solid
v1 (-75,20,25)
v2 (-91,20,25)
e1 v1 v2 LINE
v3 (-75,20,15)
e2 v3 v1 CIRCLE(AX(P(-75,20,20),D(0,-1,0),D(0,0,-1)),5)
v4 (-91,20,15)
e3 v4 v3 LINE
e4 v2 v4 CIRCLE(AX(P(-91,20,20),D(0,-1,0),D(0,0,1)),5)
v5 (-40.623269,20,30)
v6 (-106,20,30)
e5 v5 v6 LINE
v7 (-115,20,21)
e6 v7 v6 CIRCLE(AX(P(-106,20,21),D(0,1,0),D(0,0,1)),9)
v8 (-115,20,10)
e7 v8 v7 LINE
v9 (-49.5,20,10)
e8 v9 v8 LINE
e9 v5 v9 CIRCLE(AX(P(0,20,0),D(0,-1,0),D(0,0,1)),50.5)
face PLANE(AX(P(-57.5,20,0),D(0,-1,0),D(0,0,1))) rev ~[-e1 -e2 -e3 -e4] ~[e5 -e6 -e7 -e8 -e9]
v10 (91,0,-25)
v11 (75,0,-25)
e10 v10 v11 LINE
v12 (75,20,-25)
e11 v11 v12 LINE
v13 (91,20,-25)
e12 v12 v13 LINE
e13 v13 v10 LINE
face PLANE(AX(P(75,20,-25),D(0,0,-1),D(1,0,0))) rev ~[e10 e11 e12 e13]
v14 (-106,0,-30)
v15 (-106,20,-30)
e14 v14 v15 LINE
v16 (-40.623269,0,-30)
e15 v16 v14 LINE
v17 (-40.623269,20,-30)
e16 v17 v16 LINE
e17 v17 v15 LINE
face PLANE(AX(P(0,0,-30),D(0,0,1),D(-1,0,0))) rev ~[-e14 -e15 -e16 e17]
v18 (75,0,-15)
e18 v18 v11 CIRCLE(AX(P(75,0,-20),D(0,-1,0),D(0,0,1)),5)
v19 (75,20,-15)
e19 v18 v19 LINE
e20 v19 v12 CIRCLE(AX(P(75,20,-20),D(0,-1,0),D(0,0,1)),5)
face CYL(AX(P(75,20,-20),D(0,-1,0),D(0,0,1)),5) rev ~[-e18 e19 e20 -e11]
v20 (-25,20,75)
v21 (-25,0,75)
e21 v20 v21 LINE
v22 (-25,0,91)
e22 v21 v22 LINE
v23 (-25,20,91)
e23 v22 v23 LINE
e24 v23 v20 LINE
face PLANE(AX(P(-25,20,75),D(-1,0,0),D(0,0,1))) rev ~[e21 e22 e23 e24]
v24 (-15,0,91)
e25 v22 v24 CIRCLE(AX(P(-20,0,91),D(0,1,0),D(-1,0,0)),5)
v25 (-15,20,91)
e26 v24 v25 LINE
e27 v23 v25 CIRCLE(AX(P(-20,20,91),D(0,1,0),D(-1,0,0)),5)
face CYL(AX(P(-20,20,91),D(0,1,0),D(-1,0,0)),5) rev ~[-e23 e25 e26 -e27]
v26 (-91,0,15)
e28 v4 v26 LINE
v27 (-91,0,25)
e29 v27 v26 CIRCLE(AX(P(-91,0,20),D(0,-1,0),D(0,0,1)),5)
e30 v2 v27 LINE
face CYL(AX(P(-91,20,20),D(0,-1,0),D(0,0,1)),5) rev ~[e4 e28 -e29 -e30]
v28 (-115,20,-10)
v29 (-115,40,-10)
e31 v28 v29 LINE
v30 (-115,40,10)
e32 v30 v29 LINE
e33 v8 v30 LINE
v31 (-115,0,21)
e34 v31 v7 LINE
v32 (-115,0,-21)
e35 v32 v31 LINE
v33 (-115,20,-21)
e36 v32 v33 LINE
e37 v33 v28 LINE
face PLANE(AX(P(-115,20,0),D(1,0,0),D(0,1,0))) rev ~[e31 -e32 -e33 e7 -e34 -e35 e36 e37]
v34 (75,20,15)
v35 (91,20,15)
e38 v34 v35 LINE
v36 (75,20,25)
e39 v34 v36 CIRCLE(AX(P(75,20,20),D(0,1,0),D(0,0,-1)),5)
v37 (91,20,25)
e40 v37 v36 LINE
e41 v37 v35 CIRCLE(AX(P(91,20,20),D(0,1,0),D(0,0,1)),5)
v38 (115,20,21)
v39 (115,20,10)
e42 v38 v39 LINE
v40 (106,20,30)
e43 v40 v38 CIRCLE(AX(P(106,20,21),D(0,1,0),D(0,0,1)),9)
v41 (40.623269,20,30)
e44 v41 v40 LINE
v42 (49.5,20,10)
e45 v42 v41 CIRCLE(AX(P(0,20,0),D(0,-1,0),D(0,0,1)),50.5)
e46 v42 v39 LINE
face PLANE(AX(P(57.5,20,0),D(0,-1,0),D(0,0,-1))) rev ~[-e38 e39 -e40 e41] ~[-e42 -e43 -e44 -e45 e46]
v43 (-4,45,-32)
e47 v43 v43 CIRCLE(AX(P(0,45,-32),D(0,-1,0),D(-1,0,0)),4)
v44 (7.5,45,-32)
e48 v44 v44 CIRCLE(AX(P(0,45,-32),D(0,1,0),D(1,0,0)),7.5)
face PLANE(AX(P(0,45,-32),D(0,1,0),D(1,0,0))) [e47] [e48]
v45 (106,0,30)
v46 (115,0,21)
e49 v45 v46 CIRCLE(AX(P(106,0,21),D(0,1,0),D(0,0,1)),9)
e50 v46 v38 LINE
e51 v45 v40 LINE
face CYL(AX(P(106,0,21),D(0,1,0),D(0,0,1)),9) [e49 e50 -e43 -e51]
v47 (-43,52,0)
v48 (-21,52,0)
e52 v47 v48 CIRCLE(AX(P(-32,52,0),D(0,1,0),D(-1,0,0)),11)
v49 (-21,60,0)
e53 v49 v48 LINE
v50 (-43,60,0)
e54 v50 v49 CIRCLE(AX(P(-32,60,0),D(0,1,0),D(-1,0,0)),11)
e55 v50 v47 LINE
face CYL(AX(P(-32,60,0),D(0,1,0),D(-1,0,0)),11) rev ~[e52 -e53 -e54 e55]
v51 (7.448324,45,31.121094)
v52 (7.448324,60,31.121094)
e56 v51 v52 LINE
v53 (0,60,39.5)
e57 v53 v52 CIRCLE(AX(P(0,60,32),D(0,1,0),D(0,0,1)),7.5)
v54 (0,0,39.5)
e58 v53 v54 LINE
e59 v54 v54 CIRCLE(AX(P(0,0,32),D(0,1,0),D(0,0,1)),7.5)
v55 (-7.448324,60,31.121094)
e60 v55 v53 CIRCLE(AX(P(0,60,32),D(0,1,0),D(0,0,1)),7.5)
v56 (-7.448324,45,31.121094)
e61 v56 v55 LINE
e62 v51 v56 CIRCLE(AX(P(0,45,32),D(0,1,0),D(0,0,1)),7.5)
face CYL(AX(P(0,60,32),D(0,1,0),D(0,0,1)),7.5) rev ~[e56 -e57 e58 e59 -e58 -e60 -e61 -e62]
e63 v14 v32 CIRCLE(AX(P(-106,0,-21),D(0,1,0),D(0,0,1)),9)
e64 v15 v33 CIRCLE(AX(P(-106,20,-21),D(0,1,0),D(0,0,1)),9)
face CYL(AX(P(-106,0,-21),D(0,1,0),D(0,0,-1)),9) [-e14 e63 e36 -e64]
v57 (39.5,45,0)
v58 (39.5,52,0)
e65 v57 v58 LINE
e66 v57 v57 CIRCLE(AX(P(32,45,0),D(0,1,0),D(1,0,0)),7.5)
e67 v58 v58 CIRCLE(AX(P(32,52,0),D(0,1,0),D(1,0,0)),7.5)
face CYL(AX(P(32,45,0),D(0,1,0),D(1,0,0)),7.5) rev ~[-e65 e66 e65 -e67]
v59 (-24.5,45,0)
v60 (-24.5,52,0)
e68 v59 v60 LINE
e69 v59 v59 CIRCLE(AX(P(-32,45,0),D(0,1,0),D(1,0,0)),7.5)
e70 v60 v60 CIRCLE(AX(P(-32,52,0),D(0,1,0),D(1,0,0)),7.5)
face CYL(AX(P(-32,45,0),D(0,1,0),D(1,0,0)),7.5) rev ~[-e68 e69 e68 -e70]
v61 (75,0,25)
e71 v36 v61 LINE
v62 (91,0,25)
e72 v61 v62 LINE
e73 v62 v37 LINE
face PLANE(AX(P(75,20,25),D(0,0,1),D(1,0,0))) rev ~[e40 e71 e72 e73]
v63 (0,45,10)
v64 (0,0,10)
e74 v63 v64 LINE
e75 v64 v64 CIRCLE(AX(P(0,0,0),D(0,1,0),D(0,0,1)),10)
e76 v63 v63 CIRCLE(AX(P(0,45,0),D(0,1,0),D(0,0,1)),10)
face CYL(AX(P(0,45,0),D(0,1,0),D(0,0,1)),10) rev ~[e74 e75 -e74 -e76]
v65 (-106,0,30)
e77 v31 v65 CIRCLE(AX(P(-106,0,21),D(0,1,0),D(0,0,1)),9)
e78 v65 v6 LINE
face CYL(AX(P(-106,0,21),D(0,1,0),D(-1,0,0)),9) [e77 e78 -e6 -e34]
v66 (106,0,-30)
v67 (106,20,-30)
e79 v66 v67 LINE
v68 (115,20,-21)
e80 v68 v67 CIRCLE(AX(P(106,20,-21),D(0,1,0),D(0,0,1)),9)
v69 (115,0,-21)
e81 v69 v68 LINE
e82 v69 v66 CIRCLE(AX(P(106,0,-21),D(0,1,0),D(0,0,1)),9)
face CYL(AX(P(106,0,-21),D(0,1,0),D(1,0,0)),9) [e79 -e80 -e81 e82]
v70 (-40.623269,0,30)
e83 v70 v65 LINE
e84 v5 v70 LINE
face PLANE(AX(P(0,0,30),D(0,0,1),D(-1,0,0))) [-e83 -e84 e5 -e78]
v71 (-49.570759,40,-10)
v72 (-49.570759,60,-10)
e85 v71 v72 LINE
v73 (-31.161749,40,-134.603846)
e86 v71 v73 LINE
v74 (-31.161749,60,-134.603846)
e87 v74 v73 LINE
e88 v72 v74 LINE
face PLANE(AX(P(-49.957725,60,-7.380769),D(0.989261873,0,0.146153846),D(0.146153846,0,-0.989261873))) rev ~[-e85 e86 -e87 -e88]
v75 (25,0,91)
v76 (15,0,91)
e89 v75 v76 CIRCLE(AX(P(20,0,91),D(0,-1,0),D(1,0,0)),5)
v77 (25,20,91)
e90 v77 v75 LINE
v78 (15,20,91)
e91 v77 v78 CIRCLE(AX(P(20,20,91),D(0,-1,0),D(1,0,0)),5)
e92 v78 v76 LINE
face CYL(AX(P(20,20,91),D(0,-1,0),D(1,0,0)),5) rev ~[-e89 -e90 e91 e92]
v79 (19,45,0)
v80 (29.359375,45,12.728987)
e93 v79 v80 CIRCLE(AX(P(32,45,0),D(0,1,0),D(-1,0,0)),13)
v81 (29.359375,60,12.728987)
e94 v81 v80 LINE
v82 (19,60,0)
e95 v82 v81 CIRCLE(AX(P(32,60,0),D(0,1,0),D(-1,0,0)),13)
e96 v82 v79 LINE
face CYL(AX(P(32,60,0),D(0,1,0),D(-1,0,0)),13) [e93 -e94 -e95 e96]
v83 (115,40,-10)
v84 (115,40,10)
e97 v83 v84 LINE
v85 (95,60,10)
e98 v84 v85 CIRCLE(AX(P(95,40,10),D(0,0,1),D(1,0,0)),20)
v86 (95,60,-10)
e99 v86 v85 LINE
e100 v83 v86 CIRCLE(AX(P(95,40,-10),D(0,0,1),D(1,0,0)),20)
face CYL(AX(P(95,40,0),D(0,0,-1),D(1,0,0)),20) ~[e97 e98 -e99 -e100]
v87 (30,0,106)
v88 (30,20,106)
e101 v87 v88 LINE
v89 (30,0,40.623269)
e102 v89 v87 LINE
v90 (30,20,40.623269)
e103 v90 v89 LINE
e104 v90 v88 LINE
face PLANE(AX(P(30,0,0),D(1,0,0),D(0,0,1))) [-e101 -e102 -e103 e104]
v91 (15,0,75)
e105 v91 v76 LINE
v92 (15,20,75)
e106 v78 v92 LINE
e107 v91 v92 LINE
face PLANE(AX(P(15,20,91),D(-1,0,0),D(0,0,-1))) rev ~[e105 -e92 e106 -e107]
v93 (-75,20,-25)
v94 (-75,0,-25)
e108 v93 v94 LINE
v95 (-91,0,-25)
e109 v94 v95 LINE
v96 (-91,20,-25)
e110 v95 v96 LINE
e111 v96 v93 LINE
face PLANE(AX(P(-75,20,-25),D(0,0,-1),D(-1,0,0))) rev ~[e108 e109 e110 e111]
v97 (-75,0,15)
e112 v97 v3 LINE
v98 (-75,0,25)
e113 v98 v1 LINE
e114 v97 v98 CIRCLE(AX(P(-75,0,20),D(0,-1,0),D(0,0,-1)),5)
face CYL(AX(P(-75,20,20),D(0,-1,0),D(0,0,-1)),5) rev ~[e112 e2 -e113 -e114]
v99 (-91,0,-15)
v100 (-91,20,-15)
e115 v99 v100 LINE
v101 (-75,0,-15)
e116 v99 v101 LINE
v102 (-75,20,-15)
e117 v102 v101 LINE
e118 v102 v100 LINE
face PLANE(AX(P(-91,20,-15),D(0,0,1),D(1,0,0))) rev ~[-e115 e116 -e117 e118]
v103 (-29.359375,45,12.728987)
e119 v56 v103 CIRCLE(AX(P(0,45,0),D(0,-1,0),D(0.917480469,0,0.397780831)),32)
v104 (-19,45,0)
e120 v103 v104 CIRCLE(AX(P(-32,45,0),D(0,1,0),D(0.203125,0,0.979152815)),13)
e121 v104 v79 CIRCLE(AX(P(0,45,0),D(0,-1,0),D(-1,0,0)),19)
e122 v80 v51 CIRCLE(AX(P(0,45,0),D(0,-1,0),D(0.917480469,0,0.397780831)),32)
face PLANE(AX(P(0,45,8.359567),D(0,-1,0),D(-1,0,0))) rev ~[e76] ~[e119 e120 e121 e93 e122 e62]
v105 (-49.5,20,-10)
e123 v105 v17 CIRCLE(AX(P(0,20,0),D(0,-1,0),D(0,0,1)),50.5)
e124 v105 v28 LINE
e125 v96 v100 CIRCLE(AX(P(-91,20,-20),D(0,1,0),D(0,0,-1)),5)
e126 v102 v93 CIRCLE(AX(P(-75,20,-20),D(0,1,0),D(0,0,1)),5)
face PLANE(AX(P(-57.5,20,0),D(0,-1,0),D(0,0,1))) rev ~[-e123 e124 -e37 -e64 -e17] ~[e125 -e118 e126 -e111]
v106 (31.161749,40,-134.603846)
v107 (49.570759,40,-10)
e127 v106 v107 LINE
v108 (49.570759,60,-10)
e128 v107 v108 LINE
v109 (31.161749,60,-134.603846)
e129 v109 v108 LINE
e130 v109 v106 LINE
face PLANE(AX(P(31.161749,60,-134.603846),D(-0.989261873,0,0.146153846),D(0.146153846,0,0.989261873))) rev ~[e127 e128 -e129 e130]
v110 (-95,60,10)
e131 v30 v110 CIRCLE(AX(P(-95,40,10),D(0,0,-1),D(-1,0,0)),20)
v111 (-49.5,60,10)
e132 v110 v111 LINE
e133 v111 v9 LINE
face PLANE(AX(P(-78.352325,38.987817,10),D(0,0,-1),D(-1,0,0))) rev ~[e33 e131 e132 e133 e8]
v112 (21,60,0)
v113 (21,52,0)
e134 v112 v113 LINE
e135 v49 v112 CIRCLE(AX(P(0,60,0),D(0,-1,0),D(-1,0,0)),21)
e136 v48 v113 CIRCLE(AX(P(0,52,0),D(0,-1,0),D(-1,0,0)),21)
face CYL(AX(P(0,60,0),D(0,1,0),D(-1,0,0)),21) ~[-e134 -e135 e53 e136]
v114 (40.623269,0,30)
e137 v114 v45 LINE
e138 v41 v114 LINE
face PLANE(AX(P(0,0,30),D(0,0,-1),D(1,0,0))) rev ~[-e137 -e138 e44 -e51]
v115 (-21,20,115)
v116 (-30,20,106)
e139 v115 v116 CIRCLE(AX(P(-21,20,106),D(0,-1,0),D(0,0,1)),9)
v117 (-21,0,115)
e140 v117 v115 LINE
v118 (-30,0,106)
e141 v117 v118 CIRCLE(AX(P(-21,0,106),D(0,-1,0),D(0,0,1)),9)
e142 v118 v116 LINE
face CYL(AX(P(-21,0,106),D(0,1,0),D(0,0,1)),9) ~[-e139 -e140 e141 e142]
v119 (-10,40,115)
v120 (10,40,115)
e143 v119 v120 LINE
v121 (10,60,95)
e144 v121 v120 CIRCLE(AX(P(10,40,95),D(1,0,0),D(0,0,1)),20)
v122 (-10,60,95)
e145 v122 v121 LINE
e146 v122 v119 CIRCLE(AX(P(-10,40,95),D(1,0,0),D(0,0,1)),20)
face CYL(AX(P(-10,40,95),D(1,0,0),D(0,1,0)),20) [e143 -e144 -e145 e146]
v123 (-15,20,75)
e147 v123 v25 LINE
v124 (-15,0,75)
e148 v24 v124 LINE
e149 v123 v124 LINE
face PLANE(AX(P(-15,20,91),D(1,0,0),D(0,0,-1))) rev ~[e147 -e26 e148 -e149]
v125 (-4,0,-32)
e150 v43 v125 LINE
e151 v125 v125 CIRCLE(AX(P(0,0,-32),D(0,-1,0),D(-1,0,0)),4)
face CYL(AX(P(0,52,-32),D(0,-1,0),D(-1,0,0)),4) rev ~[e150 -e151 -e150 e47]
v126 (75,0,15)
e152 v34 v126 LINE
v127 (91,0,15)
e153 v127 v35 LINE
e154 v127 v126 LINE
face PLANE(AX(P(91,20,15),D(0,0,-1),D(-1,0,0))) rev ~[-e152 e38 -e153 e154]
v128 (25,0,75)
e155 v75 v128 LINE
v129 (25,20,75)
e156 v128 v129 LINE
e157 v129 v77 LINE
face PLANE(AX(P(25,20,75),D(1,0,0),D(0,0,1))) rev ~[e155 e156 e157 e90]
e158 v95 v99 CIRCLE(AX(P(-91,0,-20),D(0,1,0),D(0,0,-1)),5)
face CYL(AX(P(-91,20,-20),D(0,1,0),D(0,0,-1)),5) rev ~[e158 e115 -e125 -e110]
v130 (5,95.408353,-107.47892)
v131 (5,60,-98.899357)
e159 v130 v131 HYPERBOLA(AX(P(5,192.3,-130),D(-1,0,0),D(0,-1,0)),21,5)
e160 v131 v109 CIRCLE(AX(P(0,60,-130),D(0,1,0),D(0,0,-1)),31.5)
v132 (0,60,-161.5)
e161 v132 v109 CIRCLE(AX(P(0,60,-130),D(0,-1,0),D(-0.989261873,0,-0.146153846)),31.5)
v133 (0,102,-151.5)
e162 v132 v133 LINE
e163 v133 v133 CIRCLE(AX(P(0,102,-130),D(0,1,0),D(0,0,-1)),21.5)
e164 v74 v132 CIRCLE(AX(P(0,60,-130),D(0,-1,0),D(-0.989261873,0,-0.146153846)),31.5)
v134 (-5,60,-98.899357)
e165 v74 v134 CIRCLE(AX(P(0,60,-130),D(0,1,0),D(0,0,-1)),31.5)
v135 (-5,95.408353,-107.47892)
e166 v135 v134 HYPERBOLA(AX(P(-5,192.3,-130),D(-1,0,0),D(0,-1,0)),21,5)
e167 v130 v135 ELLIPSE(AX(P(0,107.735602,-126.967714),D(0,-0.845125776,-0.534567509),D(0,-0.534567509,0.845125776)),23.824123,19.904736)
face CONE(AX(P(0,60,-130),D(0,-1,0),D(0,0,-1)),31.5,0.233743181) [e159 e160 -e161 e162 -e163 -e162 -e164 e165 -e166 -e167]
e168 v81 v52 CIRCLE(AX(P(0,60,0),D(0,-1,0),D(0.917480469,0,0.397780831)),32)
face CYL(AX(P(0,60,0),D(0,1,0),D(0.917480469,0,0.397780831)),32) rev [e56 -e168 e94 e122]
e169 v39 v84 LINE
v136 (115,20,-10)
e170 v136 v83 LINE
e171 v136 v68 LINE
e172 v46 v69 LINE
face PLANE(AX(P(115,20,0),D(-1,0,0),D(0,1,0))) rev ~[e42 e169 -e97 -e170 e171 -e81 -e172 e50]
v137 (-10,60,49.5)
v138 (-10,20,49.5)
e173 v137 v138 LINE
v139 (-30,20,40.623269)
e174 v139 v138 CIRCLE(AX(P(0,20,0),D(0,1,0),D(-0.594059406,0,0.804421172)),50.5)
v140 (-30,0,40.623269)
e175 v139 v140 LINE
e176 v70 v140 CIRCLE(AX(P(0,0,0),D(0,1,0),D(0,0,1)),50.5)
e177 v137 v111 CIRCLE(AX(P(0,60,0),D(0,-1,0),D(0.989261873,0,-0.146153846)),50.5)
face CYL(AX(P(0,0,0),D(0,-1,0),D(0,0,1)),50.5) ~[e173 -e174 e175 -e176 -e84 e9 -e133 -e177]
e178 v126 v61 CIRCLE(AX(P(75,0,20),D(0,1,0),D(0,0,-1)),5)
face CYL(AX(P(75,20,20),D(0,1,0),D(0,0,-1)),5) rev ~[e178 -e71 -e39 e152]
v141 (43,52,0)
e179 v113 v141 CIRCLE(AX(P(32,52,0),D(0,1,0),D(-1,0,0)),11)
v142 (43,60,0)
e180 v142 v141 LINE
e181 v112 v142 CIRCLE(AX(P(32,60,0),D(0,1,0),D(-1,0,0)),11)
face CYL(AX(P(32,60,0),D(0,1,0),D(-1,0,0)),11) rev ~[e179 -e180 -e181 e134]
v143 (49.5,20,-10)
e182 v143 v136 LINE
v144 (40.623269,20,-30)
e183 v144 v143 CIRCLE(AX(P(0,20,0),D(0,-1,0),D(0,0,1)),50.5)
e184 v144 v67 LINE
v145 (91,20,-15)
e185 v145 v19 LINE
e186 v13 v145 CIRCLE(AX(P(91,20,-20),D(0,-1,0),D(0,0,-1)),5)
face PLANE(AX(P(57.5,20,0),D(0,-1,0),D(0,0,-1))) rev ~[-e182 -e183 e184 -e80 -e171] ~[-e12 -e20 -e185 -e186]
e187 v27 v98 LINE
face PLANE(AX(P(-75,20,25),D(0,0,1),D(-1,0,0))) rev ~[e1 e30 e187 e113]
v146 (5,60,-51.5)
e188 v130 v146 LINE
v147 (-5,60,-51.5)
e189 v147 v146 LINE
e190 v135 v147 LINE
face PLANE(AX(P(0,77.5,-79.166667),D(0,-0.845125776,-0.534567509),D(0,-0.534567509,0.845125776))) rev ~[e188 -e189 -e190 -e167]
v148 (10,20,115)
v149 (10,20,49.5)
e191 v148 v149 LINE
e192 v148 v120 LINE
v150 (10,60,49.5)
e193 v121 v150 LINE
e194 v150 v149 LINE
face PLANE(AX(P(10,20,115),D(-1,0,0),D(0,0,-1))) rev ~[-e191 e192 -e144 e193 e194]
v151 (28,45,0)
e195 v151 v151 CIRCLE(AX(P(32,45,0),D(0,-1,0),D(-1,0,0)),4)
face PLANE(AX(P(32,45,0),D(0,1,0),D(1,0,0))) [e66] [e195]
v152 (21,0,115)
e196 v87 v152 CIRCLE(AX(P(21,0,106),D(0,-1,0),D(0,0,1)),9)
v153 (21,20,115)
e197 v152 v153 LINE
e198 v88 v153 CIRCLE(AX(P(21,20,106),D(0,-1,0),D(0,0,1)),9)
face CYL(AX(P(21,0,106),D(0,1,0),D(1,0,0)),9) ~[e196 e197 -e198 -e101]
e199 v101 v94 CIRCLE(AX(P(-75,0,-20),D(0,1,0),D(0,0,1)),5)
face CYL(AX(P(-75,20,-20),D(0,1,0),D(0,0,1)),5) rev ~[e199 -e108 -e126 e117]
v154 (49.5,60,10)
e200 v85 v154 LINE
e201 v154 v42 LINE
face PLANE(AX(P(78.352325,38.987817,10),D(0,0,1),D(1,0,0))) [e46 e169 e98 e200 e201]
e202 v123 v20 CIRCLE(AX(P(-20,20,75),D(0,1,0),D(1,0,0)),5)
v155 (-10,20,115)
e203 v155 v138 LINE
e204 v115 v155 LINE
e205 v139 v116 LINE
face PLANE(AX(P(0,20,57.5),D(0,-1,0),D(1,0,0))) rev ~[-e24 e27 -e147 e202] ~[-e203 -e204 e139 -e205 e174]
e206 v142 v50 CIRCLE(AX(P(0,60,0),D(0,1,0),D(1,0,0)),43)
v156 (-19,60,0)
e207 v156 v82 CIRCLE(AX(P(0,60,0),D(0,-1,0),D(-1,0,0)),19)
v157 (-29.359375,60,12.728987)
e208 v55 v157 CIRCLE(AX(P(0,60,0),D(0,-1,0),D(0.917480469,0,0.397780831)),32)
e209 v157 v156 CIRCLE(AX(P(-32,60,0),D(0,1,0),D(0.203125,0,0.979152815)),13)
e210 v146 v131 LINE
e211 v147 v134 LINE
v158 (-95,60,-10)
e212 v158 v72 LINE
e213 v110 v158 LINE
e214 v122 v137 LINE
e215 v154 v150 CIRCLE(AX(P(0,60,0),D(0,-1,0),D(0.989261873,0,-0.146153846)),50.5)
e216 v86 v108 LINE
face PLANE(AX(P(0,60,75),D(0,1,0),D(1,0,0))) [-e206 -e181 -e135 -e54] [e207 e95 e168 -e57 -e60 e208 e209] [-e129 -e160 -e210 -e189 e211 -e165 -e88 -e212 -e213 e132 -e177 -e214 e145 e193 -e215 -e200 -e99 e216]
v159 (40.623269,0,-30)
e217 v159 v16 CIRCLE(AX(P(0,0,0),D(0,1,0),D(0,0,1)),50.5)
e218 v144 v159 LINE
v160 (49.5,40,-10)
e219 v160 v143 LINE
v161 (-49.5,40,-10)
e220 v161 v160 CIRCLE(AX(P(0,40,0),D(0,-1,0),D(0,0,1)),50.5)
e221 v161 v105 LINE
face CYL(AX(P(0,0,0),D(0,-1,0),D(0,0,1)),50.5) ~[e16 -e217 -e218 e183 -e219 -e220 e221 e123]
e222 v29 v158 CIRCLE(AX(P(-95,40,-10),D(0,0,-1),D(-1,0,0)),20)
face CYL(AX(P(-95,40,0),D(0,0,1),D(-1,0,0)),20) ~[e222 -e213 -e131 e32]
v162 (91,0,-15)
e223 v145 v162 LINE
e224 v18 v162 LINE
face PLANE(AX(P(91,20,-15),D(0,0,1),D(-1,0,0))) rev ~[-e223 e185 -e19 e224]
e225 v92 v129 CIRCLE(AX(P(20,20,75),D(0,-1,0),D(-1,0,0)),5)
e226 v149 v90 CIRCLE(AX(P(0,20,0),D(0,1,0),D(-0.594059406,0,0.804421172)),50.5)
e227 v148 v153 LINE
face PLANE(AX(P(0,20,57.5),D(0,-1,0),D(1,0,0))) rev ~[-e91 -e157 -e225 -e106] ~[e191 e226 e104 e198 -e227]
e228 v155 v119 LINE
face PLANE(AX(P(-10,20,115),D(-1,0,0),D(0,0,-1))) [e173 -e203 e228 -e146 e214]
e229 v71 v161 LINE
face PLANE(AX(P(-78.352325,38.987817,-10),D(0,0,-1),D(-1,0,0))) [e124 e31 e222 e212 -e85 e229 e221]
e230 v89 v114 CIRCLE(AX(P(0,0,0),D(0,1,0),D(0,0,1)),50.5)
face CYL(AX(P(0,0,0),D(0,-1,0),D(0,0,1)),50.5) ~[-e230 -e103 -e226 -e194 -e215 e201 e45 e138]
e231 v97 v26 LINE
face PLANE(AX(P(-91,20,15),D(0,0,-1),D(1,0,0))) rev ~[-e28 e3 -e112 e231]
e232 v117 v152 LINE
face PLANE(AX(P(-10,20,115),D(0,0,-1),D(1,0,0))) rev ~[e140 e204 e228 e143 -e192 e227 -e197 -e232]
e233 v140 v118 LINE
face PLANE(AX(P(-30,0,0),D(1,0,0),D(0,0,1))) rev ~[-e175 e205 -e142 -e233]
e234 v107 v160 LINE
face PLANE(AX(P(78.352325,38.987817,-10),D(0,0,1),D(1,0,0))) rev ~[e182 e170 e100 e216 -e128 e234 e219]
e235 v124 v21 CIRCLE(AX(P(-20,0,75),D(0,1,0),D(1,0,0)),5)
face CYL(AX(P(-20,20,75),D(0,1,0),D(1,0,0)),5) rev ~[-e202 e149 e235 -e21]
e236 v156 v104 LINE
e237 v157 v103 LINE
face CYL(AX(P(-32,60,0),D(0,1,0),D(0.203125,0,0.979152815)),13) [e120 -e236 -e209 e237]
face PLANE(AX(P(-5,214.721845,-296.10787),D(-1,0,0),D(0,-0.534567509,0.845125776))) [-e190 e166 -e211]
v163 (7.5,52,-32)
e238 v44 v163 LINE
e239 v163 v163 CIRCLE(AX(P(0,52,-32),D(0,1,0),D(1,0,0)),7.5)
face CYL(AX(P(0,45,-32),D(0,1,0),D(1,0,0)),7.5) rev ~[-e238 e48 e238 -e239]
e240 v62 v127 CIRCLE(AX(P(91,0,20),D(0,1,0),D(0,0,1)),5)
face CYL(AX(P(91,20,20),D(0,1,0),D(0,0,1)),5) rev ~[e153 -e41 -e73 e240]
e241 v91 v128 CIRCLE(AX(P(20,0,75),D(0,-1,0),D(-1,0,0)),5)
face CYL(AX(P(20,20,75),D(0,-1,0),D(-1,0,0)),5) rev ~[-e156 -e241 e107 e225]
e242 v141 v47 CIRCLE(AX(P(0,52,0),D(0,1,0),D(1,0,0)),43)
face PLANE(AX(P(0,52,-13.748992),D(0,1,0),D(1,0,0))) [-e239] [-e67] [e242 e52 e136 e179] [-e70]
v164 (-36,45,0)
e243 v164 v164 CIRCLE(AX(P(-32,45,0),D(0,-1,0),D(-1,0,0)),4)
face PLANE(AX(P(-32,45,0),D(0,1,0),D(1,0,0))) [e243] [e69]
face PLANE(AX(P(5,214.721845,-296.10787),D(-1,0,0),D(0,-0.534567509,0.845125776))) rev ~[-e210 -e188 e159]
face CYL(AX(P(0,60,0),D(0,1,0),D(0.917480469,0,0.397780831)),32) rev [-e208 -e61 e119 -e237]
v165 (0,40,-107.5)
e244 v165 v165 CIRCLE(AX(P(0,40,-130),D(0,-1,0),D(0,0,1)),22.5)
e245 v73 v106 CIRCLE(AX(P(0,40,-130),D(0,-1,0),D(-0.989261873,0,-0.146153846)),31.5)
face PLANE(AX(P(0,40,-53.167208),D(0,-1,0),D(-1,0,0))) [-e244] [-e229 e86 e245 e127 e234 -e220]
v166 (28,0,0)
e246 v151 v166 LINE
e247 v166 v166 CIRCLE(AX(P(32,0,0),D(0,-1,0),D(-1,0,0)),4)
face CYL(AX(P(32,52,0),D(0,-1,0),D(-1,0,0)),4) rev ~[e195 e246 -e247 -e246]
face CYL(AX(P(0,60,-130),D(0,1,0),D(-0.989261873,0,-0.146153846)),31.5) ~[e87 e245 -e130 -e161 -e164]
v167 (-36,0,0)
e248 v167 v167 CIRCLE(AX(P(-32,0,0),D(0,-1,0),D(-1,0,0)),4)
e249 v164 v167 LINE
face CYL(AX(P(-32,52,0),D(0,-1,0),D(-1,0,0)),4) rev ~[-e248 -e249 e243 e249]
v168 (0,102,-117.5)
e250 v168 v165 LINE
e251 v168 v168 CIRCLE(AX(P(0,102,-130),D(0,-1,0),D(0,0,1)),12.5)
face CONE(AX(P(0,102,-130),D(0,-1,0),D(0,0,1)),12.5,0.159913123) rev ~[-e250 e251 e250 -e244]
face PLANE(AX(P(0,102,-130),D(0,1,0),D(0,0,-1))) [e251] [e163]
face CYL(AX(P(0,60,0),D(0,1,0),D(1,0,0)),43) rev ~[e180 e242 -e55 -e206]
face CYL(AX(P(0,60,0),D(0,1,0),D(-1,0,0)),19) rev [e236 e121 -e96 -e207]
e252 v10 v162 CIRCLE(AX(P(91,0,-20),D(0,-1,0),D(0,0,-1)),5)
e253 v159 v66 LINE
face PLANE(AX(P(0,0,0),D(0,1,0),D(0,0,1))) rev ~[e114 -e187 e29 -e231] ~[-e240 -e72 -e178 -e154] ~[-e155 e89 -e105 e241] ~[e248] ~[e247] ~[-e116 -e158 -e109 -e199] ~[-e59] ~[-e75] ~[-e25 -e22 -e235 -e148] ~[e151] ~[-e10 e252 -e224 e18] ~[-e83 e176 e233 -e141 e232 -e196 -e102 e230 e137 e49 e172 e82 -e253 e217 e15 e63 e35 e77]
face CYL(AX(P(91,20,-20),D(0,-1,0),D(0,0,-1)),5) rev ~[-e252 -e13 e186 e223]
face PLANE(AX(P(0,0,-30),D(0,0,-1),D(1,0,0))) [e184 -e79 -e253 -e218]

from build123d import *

# Parameters (mm, degrees)
SKETCH1_R                                     = 50.5
BOSS_EXTRUDE1_DEPTH                           = 60
SKETCH2_W                                     = 60
SKETCH2_H                                     = 115
BOSS_EXTRUDE2_DEPTH                           = 20
CIRPATTERN1_COUNT                             = 4
BOSS_EXTRUDE3_DEPTH                           = 20
FILLET1_R                                     = 9
BOSS_EXTRUDE4_DEPTH                           = 10
CIRPATTERN4_COUNT                             = 2
SKETCH9_W                                     = 20
SKETCH9_H                                     = 80
BOSS_EXTRUDE5_DEPTH                           = 40
FILLET2_R                                     = 20
CUT_EXTRUDE1_DEPTH                            = 8
CUT_EXTRUDE2_DEPTH                            = 203.255407839
CUT_EXTRUDE3_DEPTH                            = 15
CIRPATTERN5_COUNT                             = 4
SKETCH21_R                                    = 7.5
CUT_EXTRUDE4_DEPTH                            = 208.140652698
CUT_EXTRUDE4_DEPTH_BACK                       = 208.140652698
SKETCH22_R                                    = 10
CUT_EXTRUDE5_DEPTH                            = 204.303344783
CUT_EXTRUDE5_DEPTH_BACK                       = 204.303344783
CBORE_FOR_M12_HEX_HEAD_CAP_SCREW1_D           = 8
CBORE_FOR_M12_HEX_HEAD_CAP_SCREW1_CBORE_D     = 15
CBORE_FOR_M12_HEX_HEAD_CAP_SCREW1_CBORE_DEPTH = 7
RIB1_REACH                                    = 224.96
SKETCH17_WALL_W                               = 513.393885606
SKETCH17_WALL_H                               = 10


with BuildPart() as part:
    # Sketch1 → Boss-Extrude1 (new body)
    with BuildSketch(Plane(origin=(0, 0, 0), x_dir=(1, 0, 0), z_dir=(0, 1, 0))):
        with Locations(Location((0, 0, 0), (0, 0, 270))):
            Circle(SKETCH1_R)
    extrude(amount=BOSS_EXTRUDE1_DEPTH)

    # Sketch2 → Boss-Extrude2 (add)
    with BuildSketch(Plane.XZ):
        with Locations((0, 57.5)):
            Rectangle(SKETCH2_W, SKETCH2_H)
    boss_extrude2 = extrude(amount=-BOSS_EXTRUDE2_DEPTH)

    # CirPattern1: Boss-Extrude2 ×4 about axis, 1 skipped
    cirpattern1_axis = Axis((0, 0, 0), (0, -1, 0))
    add([boss_extrude2.rotate(cirpattern1_axis, i * 360 / CIRPATTERN1_COUNT) for i in range(1, CIRPATTERN1_COUNT) if i not in (2,)])

    # Sketch4 → Boss-Extrude3 (add)
    with BuildSketch(Plane(origin=(0, 60, 0), x_dir=(1, 0, 0), z_dir=(0, 1, 0))):
        with BuildLine():
            Line((-49.957724584, 7.380769231), (-31.161748998, 134.603846154))
            ThreePointArc((-31.161748998, 134.603846154), (0, 161.5), (31.161748998, 134.603846154))
            Line((31.161748998, 134.603846154), (49.957724584, 7.380769231))
            ThreePointArc((49.957724584, 7.380769231), (0, -50.5), (-49.957724584, 7.380769231))
        make_face()
    extrude(amount=-BOSS_EXTRUDE3_DEPTH)

    # Fillet1
    fillet1_edges = [part.edges().sort_by_distance(p)[0] for p in [
        (30, 10, 115),
        (-30, 10, 115),
        (-115, 10, 30),
        (-115, 10, -30),
        (115, 10, -30),
        (115, 10, 30),
    ]]
    fillet(fillet1_edges, radius=FILLET1_R)

    # Sketch8 → Boss-Extrude4 (add, symmetric)
    with BuildSketch(Plane.XY):
        with BuildLine():
            Line((-115, 20), (-115, 40))
            ThreePointArc((-115, 40), (-109.142135624, 54.142135624), (-95, 60))
            Line((-95, 60), (-45, 60))
            Line((-45, 60), (-45, 20))
            Line((-45, 20), (-115, 20))
        make_face()
    boss_extrude4 = extrude(amount=BOSS_EXTRUDE4_DEPTH, both=True)

    # CirPattern4: Boss-Extrude4 ×2 about axis
    cirpattern4_axis = Axis((0, -13.978729863, 0), (0, 1, 0))
    for i in range(1, CIRPATTERN4_COUNT):
        add(boss_extrude4.rotate(cirpattern4_axis, i * 360 / CIRPATTERN4_COUNT))

    # Sketch9 → Boss-Extrude5 (add)
    with BuildSketch(Plane(origin=(0, 20, 0), x_dir=(1, 0, 0), z_dir=(0, 1, 0))):
        with Locations((0, -75)):
            Rectangle(SKETCH9_W, SKETCH9_H)
    extrude(amount=BOSS_EXTRUDE5_DEPTH)

    # Fillet2
    fillet2_edges = [part.edges().sort_by_distance(p)[0] for p in [
        (0, 60, 115),
    ]]
    fillet(fillet2_edges, radius=FILLET2_R)

    # Sketch19 → Cut-Extrude1 (cut)
    with BuildSketch(Plane(origin=(0, 60, 0), x_dir=(1, 0, 0), z_dir=(0, 1, 0))):
        with BuildLine():
            ThreePointArc((-43, 0), (-32, -11), (-21, 0))
            ThreePointArc((-21, 0), (0, 21), (21, 0))
            ThreePointArc((21, 0), (32, -11), (43, 0))
            ThreePointArc((43, 0), (0, 43), (-43, 0))
        make_face()
    extrude(amount=-CUT_EXTRUDE1_DEPTH, mode=Mode.SUBTRACT)

    # Sketch6 → Cut-Extrude2 (cut, symmetric)
    with BuildSketch(Plane(origin=(0, 20, 0), x_dir=(1, 0, 0), z_dir=(0, 1, 0))):
        with BuildLine():
            Line((25, -75), (25, -91))
            ThreePointArc((25, -91), (20, -96), (15, -91))
            Line((15, -91), (15, -75))
            ThreePointArc((15, -75), (20, -70), (25, -75))
        make_face()
        with BuildLine():
            Line((-25, -75), (-25, -91))
            ThreePointArc((-25, -91), (-20, -96), (-15, -91))
            Line((-15, -91), (-15, -75))
            ThreePointArc((-15, -75), (-20, -70), (-25, -75))
        make_face()
    cut_extrude2 = extrude(amount=CUT_EXTRUDE2_DEPTH, both=True, mode=Mode.SUBTRACT)

    # Sketch20 → Cut-Extrude3 (cut)
    with BuildSketch(Plane(origin=(0, 60, 0), x_dir=(1, 0, 0), z_dir=(0, 1, 0))):
        with BuildLine():
            ThreePointArc((-19, 0), (0, 19), (19, 0))
            ThreePointArc((19, 0), (21.917140163, -8.205847762), (29.359375, -12.72898659))
            ThreePointArc((29.359375, -12.72898659), (0, -32), (-29.359375, -12.72898659))
            ThreePointArc((-29.359375, -12.72898659), (-21.917140163, -8.205847762), (-19, 0))
        make_face()
    extrude(amount=-CUT_EXTRUDE3_DEPTH, mode=Mode.SUBTRACT)

    # CirPattern5: Cut-Extrude2 ×4 about axis, 1 skipped
    cirpattern5_axis = Axis((0, 0, 0), (0, -1, 0))
    add([cut_extrude2.rotate(cirpattern5_axis, i * 360 / CIRPATTERN5_COUNT) for i in range(1, CIRPATTERN5_COUNT) if i not in (2,)], mode=Mode.SUBTRACT)

    # Sketch21 → Cut-Extrude4 (cut, two sides)
    with BuildSketch(Plane(origin=(0, 60, 0), x_dir=(1, 0, 0), z_dir=(0, 1, 0))) as cut_extrude4_sk:
        with Locations(Location((0, -32, 0), (0, 0, 270))):
            Circle(SKETCH21_R)
    extrude(amount=CUT_EXTRUDE4_DEPTH, mode=Mode.SUBTRACT)
    extrude(cut_extrude4_sk.sketch, amount=-CUT_EXTRUDE4_DEPTH_BACK, mode=Mode.SUBTRACT)

    # Sketch22 → Cut-Extrude5 (cut, two sides)
    with BuildSketch(Plane(origin=(0, 45, 0), x_dir=(1, 0, 0), z_dir=(0, 1, 0))) as cut_extrude5_sk:
        with Locations(Location((0, 0, 0), (0, 0, 270))):
            Circle(SKETCH22_R)
    extrude(amount=CUT_EXTRUDE5_DEPTH, mode=Mode.SUBTRACT)
    extrude(cut_extrude5_sk.sketch, amount=-CUT_EXTRUDE5_DEPTH_BACK, mode=Mode.SUBTRACT)

    # CBORE for M12 Hex Head Cap Screw1 (through all)
    with Locations(Plane(origin=(0, 52, 0), x_dir=(1, 0, 0), z_dir=(0, 1, 0))):
        with Locations((-32, 0), (32, 0), (0, 32)):
            CounterBoreHole(CBORE_FOR_M12_HEX_HEAD_CAP_SCREW1_D / 2, CBORE_FOR_M12_HEX_HEAD_CAP_SCREW1_CBORE_D / 2, CBORE_FOR_M12_HEX_HEAD_CAP_SCREW1_CBORE_DEPTH)

    # Sketch26 → Revolve1 (revolve)
    with BuildSketch(Plane(origin=(0, 0, 0), x_dir=(0, 0, -1), z_dir=(1, 0, 0))):
        Polygon((161.5, 60), (151.5, 102), (130, 102), (130, 60), align=None)
    revolve(axis=Axis((0, -4.416477213, -130), (0, 1, 0)))

    # Sketch17 wall → Rib1 (add, up to next)
    with BuildSketch(Plane(origin=(0, 77.5, -79.166666666), x_dir=(0, -0.534567509226, 0.845125776485), z_dir=(0, -0.845125776485, -0.534567509226)), mode=Mode.PRIVATE) as rib1_sk1:
        Rectangle(SKETCH17_WALL_W, SKETCH17_WALL_H)
    rib1_tool1 = extrude(rib1_sk1.sketch, amount=RIB1_REACH, mode=Mode.PRIVATE) - part.part
    add(rib1_tool1.solids().sort_by_distance((0, 77.5, -79.166666666))[0])

    # Sketch27 → Cut-Revolve1 (revolve, cut)
    with BuildSketch(Plane(origin=(0, 0, 0), x_dir=(0, 0, -1), z_dir=(1, 0, 0)), mode=Mode.PRIVATE) as cut_revolve1_sk:
        Polygon((142.5, 102), (152.5, 40), (130, 40), (130, 102), align=None)
    revolve(cut_revolve1_sk.sketch.rotate(Axis((0, 116.719168037, -130), (0, -1, 0)), 180), axis=Axis((0, 116.719168037, -130), (0, -1, 0)), mode=Mode.SUBTRACT)


solid = part.part
